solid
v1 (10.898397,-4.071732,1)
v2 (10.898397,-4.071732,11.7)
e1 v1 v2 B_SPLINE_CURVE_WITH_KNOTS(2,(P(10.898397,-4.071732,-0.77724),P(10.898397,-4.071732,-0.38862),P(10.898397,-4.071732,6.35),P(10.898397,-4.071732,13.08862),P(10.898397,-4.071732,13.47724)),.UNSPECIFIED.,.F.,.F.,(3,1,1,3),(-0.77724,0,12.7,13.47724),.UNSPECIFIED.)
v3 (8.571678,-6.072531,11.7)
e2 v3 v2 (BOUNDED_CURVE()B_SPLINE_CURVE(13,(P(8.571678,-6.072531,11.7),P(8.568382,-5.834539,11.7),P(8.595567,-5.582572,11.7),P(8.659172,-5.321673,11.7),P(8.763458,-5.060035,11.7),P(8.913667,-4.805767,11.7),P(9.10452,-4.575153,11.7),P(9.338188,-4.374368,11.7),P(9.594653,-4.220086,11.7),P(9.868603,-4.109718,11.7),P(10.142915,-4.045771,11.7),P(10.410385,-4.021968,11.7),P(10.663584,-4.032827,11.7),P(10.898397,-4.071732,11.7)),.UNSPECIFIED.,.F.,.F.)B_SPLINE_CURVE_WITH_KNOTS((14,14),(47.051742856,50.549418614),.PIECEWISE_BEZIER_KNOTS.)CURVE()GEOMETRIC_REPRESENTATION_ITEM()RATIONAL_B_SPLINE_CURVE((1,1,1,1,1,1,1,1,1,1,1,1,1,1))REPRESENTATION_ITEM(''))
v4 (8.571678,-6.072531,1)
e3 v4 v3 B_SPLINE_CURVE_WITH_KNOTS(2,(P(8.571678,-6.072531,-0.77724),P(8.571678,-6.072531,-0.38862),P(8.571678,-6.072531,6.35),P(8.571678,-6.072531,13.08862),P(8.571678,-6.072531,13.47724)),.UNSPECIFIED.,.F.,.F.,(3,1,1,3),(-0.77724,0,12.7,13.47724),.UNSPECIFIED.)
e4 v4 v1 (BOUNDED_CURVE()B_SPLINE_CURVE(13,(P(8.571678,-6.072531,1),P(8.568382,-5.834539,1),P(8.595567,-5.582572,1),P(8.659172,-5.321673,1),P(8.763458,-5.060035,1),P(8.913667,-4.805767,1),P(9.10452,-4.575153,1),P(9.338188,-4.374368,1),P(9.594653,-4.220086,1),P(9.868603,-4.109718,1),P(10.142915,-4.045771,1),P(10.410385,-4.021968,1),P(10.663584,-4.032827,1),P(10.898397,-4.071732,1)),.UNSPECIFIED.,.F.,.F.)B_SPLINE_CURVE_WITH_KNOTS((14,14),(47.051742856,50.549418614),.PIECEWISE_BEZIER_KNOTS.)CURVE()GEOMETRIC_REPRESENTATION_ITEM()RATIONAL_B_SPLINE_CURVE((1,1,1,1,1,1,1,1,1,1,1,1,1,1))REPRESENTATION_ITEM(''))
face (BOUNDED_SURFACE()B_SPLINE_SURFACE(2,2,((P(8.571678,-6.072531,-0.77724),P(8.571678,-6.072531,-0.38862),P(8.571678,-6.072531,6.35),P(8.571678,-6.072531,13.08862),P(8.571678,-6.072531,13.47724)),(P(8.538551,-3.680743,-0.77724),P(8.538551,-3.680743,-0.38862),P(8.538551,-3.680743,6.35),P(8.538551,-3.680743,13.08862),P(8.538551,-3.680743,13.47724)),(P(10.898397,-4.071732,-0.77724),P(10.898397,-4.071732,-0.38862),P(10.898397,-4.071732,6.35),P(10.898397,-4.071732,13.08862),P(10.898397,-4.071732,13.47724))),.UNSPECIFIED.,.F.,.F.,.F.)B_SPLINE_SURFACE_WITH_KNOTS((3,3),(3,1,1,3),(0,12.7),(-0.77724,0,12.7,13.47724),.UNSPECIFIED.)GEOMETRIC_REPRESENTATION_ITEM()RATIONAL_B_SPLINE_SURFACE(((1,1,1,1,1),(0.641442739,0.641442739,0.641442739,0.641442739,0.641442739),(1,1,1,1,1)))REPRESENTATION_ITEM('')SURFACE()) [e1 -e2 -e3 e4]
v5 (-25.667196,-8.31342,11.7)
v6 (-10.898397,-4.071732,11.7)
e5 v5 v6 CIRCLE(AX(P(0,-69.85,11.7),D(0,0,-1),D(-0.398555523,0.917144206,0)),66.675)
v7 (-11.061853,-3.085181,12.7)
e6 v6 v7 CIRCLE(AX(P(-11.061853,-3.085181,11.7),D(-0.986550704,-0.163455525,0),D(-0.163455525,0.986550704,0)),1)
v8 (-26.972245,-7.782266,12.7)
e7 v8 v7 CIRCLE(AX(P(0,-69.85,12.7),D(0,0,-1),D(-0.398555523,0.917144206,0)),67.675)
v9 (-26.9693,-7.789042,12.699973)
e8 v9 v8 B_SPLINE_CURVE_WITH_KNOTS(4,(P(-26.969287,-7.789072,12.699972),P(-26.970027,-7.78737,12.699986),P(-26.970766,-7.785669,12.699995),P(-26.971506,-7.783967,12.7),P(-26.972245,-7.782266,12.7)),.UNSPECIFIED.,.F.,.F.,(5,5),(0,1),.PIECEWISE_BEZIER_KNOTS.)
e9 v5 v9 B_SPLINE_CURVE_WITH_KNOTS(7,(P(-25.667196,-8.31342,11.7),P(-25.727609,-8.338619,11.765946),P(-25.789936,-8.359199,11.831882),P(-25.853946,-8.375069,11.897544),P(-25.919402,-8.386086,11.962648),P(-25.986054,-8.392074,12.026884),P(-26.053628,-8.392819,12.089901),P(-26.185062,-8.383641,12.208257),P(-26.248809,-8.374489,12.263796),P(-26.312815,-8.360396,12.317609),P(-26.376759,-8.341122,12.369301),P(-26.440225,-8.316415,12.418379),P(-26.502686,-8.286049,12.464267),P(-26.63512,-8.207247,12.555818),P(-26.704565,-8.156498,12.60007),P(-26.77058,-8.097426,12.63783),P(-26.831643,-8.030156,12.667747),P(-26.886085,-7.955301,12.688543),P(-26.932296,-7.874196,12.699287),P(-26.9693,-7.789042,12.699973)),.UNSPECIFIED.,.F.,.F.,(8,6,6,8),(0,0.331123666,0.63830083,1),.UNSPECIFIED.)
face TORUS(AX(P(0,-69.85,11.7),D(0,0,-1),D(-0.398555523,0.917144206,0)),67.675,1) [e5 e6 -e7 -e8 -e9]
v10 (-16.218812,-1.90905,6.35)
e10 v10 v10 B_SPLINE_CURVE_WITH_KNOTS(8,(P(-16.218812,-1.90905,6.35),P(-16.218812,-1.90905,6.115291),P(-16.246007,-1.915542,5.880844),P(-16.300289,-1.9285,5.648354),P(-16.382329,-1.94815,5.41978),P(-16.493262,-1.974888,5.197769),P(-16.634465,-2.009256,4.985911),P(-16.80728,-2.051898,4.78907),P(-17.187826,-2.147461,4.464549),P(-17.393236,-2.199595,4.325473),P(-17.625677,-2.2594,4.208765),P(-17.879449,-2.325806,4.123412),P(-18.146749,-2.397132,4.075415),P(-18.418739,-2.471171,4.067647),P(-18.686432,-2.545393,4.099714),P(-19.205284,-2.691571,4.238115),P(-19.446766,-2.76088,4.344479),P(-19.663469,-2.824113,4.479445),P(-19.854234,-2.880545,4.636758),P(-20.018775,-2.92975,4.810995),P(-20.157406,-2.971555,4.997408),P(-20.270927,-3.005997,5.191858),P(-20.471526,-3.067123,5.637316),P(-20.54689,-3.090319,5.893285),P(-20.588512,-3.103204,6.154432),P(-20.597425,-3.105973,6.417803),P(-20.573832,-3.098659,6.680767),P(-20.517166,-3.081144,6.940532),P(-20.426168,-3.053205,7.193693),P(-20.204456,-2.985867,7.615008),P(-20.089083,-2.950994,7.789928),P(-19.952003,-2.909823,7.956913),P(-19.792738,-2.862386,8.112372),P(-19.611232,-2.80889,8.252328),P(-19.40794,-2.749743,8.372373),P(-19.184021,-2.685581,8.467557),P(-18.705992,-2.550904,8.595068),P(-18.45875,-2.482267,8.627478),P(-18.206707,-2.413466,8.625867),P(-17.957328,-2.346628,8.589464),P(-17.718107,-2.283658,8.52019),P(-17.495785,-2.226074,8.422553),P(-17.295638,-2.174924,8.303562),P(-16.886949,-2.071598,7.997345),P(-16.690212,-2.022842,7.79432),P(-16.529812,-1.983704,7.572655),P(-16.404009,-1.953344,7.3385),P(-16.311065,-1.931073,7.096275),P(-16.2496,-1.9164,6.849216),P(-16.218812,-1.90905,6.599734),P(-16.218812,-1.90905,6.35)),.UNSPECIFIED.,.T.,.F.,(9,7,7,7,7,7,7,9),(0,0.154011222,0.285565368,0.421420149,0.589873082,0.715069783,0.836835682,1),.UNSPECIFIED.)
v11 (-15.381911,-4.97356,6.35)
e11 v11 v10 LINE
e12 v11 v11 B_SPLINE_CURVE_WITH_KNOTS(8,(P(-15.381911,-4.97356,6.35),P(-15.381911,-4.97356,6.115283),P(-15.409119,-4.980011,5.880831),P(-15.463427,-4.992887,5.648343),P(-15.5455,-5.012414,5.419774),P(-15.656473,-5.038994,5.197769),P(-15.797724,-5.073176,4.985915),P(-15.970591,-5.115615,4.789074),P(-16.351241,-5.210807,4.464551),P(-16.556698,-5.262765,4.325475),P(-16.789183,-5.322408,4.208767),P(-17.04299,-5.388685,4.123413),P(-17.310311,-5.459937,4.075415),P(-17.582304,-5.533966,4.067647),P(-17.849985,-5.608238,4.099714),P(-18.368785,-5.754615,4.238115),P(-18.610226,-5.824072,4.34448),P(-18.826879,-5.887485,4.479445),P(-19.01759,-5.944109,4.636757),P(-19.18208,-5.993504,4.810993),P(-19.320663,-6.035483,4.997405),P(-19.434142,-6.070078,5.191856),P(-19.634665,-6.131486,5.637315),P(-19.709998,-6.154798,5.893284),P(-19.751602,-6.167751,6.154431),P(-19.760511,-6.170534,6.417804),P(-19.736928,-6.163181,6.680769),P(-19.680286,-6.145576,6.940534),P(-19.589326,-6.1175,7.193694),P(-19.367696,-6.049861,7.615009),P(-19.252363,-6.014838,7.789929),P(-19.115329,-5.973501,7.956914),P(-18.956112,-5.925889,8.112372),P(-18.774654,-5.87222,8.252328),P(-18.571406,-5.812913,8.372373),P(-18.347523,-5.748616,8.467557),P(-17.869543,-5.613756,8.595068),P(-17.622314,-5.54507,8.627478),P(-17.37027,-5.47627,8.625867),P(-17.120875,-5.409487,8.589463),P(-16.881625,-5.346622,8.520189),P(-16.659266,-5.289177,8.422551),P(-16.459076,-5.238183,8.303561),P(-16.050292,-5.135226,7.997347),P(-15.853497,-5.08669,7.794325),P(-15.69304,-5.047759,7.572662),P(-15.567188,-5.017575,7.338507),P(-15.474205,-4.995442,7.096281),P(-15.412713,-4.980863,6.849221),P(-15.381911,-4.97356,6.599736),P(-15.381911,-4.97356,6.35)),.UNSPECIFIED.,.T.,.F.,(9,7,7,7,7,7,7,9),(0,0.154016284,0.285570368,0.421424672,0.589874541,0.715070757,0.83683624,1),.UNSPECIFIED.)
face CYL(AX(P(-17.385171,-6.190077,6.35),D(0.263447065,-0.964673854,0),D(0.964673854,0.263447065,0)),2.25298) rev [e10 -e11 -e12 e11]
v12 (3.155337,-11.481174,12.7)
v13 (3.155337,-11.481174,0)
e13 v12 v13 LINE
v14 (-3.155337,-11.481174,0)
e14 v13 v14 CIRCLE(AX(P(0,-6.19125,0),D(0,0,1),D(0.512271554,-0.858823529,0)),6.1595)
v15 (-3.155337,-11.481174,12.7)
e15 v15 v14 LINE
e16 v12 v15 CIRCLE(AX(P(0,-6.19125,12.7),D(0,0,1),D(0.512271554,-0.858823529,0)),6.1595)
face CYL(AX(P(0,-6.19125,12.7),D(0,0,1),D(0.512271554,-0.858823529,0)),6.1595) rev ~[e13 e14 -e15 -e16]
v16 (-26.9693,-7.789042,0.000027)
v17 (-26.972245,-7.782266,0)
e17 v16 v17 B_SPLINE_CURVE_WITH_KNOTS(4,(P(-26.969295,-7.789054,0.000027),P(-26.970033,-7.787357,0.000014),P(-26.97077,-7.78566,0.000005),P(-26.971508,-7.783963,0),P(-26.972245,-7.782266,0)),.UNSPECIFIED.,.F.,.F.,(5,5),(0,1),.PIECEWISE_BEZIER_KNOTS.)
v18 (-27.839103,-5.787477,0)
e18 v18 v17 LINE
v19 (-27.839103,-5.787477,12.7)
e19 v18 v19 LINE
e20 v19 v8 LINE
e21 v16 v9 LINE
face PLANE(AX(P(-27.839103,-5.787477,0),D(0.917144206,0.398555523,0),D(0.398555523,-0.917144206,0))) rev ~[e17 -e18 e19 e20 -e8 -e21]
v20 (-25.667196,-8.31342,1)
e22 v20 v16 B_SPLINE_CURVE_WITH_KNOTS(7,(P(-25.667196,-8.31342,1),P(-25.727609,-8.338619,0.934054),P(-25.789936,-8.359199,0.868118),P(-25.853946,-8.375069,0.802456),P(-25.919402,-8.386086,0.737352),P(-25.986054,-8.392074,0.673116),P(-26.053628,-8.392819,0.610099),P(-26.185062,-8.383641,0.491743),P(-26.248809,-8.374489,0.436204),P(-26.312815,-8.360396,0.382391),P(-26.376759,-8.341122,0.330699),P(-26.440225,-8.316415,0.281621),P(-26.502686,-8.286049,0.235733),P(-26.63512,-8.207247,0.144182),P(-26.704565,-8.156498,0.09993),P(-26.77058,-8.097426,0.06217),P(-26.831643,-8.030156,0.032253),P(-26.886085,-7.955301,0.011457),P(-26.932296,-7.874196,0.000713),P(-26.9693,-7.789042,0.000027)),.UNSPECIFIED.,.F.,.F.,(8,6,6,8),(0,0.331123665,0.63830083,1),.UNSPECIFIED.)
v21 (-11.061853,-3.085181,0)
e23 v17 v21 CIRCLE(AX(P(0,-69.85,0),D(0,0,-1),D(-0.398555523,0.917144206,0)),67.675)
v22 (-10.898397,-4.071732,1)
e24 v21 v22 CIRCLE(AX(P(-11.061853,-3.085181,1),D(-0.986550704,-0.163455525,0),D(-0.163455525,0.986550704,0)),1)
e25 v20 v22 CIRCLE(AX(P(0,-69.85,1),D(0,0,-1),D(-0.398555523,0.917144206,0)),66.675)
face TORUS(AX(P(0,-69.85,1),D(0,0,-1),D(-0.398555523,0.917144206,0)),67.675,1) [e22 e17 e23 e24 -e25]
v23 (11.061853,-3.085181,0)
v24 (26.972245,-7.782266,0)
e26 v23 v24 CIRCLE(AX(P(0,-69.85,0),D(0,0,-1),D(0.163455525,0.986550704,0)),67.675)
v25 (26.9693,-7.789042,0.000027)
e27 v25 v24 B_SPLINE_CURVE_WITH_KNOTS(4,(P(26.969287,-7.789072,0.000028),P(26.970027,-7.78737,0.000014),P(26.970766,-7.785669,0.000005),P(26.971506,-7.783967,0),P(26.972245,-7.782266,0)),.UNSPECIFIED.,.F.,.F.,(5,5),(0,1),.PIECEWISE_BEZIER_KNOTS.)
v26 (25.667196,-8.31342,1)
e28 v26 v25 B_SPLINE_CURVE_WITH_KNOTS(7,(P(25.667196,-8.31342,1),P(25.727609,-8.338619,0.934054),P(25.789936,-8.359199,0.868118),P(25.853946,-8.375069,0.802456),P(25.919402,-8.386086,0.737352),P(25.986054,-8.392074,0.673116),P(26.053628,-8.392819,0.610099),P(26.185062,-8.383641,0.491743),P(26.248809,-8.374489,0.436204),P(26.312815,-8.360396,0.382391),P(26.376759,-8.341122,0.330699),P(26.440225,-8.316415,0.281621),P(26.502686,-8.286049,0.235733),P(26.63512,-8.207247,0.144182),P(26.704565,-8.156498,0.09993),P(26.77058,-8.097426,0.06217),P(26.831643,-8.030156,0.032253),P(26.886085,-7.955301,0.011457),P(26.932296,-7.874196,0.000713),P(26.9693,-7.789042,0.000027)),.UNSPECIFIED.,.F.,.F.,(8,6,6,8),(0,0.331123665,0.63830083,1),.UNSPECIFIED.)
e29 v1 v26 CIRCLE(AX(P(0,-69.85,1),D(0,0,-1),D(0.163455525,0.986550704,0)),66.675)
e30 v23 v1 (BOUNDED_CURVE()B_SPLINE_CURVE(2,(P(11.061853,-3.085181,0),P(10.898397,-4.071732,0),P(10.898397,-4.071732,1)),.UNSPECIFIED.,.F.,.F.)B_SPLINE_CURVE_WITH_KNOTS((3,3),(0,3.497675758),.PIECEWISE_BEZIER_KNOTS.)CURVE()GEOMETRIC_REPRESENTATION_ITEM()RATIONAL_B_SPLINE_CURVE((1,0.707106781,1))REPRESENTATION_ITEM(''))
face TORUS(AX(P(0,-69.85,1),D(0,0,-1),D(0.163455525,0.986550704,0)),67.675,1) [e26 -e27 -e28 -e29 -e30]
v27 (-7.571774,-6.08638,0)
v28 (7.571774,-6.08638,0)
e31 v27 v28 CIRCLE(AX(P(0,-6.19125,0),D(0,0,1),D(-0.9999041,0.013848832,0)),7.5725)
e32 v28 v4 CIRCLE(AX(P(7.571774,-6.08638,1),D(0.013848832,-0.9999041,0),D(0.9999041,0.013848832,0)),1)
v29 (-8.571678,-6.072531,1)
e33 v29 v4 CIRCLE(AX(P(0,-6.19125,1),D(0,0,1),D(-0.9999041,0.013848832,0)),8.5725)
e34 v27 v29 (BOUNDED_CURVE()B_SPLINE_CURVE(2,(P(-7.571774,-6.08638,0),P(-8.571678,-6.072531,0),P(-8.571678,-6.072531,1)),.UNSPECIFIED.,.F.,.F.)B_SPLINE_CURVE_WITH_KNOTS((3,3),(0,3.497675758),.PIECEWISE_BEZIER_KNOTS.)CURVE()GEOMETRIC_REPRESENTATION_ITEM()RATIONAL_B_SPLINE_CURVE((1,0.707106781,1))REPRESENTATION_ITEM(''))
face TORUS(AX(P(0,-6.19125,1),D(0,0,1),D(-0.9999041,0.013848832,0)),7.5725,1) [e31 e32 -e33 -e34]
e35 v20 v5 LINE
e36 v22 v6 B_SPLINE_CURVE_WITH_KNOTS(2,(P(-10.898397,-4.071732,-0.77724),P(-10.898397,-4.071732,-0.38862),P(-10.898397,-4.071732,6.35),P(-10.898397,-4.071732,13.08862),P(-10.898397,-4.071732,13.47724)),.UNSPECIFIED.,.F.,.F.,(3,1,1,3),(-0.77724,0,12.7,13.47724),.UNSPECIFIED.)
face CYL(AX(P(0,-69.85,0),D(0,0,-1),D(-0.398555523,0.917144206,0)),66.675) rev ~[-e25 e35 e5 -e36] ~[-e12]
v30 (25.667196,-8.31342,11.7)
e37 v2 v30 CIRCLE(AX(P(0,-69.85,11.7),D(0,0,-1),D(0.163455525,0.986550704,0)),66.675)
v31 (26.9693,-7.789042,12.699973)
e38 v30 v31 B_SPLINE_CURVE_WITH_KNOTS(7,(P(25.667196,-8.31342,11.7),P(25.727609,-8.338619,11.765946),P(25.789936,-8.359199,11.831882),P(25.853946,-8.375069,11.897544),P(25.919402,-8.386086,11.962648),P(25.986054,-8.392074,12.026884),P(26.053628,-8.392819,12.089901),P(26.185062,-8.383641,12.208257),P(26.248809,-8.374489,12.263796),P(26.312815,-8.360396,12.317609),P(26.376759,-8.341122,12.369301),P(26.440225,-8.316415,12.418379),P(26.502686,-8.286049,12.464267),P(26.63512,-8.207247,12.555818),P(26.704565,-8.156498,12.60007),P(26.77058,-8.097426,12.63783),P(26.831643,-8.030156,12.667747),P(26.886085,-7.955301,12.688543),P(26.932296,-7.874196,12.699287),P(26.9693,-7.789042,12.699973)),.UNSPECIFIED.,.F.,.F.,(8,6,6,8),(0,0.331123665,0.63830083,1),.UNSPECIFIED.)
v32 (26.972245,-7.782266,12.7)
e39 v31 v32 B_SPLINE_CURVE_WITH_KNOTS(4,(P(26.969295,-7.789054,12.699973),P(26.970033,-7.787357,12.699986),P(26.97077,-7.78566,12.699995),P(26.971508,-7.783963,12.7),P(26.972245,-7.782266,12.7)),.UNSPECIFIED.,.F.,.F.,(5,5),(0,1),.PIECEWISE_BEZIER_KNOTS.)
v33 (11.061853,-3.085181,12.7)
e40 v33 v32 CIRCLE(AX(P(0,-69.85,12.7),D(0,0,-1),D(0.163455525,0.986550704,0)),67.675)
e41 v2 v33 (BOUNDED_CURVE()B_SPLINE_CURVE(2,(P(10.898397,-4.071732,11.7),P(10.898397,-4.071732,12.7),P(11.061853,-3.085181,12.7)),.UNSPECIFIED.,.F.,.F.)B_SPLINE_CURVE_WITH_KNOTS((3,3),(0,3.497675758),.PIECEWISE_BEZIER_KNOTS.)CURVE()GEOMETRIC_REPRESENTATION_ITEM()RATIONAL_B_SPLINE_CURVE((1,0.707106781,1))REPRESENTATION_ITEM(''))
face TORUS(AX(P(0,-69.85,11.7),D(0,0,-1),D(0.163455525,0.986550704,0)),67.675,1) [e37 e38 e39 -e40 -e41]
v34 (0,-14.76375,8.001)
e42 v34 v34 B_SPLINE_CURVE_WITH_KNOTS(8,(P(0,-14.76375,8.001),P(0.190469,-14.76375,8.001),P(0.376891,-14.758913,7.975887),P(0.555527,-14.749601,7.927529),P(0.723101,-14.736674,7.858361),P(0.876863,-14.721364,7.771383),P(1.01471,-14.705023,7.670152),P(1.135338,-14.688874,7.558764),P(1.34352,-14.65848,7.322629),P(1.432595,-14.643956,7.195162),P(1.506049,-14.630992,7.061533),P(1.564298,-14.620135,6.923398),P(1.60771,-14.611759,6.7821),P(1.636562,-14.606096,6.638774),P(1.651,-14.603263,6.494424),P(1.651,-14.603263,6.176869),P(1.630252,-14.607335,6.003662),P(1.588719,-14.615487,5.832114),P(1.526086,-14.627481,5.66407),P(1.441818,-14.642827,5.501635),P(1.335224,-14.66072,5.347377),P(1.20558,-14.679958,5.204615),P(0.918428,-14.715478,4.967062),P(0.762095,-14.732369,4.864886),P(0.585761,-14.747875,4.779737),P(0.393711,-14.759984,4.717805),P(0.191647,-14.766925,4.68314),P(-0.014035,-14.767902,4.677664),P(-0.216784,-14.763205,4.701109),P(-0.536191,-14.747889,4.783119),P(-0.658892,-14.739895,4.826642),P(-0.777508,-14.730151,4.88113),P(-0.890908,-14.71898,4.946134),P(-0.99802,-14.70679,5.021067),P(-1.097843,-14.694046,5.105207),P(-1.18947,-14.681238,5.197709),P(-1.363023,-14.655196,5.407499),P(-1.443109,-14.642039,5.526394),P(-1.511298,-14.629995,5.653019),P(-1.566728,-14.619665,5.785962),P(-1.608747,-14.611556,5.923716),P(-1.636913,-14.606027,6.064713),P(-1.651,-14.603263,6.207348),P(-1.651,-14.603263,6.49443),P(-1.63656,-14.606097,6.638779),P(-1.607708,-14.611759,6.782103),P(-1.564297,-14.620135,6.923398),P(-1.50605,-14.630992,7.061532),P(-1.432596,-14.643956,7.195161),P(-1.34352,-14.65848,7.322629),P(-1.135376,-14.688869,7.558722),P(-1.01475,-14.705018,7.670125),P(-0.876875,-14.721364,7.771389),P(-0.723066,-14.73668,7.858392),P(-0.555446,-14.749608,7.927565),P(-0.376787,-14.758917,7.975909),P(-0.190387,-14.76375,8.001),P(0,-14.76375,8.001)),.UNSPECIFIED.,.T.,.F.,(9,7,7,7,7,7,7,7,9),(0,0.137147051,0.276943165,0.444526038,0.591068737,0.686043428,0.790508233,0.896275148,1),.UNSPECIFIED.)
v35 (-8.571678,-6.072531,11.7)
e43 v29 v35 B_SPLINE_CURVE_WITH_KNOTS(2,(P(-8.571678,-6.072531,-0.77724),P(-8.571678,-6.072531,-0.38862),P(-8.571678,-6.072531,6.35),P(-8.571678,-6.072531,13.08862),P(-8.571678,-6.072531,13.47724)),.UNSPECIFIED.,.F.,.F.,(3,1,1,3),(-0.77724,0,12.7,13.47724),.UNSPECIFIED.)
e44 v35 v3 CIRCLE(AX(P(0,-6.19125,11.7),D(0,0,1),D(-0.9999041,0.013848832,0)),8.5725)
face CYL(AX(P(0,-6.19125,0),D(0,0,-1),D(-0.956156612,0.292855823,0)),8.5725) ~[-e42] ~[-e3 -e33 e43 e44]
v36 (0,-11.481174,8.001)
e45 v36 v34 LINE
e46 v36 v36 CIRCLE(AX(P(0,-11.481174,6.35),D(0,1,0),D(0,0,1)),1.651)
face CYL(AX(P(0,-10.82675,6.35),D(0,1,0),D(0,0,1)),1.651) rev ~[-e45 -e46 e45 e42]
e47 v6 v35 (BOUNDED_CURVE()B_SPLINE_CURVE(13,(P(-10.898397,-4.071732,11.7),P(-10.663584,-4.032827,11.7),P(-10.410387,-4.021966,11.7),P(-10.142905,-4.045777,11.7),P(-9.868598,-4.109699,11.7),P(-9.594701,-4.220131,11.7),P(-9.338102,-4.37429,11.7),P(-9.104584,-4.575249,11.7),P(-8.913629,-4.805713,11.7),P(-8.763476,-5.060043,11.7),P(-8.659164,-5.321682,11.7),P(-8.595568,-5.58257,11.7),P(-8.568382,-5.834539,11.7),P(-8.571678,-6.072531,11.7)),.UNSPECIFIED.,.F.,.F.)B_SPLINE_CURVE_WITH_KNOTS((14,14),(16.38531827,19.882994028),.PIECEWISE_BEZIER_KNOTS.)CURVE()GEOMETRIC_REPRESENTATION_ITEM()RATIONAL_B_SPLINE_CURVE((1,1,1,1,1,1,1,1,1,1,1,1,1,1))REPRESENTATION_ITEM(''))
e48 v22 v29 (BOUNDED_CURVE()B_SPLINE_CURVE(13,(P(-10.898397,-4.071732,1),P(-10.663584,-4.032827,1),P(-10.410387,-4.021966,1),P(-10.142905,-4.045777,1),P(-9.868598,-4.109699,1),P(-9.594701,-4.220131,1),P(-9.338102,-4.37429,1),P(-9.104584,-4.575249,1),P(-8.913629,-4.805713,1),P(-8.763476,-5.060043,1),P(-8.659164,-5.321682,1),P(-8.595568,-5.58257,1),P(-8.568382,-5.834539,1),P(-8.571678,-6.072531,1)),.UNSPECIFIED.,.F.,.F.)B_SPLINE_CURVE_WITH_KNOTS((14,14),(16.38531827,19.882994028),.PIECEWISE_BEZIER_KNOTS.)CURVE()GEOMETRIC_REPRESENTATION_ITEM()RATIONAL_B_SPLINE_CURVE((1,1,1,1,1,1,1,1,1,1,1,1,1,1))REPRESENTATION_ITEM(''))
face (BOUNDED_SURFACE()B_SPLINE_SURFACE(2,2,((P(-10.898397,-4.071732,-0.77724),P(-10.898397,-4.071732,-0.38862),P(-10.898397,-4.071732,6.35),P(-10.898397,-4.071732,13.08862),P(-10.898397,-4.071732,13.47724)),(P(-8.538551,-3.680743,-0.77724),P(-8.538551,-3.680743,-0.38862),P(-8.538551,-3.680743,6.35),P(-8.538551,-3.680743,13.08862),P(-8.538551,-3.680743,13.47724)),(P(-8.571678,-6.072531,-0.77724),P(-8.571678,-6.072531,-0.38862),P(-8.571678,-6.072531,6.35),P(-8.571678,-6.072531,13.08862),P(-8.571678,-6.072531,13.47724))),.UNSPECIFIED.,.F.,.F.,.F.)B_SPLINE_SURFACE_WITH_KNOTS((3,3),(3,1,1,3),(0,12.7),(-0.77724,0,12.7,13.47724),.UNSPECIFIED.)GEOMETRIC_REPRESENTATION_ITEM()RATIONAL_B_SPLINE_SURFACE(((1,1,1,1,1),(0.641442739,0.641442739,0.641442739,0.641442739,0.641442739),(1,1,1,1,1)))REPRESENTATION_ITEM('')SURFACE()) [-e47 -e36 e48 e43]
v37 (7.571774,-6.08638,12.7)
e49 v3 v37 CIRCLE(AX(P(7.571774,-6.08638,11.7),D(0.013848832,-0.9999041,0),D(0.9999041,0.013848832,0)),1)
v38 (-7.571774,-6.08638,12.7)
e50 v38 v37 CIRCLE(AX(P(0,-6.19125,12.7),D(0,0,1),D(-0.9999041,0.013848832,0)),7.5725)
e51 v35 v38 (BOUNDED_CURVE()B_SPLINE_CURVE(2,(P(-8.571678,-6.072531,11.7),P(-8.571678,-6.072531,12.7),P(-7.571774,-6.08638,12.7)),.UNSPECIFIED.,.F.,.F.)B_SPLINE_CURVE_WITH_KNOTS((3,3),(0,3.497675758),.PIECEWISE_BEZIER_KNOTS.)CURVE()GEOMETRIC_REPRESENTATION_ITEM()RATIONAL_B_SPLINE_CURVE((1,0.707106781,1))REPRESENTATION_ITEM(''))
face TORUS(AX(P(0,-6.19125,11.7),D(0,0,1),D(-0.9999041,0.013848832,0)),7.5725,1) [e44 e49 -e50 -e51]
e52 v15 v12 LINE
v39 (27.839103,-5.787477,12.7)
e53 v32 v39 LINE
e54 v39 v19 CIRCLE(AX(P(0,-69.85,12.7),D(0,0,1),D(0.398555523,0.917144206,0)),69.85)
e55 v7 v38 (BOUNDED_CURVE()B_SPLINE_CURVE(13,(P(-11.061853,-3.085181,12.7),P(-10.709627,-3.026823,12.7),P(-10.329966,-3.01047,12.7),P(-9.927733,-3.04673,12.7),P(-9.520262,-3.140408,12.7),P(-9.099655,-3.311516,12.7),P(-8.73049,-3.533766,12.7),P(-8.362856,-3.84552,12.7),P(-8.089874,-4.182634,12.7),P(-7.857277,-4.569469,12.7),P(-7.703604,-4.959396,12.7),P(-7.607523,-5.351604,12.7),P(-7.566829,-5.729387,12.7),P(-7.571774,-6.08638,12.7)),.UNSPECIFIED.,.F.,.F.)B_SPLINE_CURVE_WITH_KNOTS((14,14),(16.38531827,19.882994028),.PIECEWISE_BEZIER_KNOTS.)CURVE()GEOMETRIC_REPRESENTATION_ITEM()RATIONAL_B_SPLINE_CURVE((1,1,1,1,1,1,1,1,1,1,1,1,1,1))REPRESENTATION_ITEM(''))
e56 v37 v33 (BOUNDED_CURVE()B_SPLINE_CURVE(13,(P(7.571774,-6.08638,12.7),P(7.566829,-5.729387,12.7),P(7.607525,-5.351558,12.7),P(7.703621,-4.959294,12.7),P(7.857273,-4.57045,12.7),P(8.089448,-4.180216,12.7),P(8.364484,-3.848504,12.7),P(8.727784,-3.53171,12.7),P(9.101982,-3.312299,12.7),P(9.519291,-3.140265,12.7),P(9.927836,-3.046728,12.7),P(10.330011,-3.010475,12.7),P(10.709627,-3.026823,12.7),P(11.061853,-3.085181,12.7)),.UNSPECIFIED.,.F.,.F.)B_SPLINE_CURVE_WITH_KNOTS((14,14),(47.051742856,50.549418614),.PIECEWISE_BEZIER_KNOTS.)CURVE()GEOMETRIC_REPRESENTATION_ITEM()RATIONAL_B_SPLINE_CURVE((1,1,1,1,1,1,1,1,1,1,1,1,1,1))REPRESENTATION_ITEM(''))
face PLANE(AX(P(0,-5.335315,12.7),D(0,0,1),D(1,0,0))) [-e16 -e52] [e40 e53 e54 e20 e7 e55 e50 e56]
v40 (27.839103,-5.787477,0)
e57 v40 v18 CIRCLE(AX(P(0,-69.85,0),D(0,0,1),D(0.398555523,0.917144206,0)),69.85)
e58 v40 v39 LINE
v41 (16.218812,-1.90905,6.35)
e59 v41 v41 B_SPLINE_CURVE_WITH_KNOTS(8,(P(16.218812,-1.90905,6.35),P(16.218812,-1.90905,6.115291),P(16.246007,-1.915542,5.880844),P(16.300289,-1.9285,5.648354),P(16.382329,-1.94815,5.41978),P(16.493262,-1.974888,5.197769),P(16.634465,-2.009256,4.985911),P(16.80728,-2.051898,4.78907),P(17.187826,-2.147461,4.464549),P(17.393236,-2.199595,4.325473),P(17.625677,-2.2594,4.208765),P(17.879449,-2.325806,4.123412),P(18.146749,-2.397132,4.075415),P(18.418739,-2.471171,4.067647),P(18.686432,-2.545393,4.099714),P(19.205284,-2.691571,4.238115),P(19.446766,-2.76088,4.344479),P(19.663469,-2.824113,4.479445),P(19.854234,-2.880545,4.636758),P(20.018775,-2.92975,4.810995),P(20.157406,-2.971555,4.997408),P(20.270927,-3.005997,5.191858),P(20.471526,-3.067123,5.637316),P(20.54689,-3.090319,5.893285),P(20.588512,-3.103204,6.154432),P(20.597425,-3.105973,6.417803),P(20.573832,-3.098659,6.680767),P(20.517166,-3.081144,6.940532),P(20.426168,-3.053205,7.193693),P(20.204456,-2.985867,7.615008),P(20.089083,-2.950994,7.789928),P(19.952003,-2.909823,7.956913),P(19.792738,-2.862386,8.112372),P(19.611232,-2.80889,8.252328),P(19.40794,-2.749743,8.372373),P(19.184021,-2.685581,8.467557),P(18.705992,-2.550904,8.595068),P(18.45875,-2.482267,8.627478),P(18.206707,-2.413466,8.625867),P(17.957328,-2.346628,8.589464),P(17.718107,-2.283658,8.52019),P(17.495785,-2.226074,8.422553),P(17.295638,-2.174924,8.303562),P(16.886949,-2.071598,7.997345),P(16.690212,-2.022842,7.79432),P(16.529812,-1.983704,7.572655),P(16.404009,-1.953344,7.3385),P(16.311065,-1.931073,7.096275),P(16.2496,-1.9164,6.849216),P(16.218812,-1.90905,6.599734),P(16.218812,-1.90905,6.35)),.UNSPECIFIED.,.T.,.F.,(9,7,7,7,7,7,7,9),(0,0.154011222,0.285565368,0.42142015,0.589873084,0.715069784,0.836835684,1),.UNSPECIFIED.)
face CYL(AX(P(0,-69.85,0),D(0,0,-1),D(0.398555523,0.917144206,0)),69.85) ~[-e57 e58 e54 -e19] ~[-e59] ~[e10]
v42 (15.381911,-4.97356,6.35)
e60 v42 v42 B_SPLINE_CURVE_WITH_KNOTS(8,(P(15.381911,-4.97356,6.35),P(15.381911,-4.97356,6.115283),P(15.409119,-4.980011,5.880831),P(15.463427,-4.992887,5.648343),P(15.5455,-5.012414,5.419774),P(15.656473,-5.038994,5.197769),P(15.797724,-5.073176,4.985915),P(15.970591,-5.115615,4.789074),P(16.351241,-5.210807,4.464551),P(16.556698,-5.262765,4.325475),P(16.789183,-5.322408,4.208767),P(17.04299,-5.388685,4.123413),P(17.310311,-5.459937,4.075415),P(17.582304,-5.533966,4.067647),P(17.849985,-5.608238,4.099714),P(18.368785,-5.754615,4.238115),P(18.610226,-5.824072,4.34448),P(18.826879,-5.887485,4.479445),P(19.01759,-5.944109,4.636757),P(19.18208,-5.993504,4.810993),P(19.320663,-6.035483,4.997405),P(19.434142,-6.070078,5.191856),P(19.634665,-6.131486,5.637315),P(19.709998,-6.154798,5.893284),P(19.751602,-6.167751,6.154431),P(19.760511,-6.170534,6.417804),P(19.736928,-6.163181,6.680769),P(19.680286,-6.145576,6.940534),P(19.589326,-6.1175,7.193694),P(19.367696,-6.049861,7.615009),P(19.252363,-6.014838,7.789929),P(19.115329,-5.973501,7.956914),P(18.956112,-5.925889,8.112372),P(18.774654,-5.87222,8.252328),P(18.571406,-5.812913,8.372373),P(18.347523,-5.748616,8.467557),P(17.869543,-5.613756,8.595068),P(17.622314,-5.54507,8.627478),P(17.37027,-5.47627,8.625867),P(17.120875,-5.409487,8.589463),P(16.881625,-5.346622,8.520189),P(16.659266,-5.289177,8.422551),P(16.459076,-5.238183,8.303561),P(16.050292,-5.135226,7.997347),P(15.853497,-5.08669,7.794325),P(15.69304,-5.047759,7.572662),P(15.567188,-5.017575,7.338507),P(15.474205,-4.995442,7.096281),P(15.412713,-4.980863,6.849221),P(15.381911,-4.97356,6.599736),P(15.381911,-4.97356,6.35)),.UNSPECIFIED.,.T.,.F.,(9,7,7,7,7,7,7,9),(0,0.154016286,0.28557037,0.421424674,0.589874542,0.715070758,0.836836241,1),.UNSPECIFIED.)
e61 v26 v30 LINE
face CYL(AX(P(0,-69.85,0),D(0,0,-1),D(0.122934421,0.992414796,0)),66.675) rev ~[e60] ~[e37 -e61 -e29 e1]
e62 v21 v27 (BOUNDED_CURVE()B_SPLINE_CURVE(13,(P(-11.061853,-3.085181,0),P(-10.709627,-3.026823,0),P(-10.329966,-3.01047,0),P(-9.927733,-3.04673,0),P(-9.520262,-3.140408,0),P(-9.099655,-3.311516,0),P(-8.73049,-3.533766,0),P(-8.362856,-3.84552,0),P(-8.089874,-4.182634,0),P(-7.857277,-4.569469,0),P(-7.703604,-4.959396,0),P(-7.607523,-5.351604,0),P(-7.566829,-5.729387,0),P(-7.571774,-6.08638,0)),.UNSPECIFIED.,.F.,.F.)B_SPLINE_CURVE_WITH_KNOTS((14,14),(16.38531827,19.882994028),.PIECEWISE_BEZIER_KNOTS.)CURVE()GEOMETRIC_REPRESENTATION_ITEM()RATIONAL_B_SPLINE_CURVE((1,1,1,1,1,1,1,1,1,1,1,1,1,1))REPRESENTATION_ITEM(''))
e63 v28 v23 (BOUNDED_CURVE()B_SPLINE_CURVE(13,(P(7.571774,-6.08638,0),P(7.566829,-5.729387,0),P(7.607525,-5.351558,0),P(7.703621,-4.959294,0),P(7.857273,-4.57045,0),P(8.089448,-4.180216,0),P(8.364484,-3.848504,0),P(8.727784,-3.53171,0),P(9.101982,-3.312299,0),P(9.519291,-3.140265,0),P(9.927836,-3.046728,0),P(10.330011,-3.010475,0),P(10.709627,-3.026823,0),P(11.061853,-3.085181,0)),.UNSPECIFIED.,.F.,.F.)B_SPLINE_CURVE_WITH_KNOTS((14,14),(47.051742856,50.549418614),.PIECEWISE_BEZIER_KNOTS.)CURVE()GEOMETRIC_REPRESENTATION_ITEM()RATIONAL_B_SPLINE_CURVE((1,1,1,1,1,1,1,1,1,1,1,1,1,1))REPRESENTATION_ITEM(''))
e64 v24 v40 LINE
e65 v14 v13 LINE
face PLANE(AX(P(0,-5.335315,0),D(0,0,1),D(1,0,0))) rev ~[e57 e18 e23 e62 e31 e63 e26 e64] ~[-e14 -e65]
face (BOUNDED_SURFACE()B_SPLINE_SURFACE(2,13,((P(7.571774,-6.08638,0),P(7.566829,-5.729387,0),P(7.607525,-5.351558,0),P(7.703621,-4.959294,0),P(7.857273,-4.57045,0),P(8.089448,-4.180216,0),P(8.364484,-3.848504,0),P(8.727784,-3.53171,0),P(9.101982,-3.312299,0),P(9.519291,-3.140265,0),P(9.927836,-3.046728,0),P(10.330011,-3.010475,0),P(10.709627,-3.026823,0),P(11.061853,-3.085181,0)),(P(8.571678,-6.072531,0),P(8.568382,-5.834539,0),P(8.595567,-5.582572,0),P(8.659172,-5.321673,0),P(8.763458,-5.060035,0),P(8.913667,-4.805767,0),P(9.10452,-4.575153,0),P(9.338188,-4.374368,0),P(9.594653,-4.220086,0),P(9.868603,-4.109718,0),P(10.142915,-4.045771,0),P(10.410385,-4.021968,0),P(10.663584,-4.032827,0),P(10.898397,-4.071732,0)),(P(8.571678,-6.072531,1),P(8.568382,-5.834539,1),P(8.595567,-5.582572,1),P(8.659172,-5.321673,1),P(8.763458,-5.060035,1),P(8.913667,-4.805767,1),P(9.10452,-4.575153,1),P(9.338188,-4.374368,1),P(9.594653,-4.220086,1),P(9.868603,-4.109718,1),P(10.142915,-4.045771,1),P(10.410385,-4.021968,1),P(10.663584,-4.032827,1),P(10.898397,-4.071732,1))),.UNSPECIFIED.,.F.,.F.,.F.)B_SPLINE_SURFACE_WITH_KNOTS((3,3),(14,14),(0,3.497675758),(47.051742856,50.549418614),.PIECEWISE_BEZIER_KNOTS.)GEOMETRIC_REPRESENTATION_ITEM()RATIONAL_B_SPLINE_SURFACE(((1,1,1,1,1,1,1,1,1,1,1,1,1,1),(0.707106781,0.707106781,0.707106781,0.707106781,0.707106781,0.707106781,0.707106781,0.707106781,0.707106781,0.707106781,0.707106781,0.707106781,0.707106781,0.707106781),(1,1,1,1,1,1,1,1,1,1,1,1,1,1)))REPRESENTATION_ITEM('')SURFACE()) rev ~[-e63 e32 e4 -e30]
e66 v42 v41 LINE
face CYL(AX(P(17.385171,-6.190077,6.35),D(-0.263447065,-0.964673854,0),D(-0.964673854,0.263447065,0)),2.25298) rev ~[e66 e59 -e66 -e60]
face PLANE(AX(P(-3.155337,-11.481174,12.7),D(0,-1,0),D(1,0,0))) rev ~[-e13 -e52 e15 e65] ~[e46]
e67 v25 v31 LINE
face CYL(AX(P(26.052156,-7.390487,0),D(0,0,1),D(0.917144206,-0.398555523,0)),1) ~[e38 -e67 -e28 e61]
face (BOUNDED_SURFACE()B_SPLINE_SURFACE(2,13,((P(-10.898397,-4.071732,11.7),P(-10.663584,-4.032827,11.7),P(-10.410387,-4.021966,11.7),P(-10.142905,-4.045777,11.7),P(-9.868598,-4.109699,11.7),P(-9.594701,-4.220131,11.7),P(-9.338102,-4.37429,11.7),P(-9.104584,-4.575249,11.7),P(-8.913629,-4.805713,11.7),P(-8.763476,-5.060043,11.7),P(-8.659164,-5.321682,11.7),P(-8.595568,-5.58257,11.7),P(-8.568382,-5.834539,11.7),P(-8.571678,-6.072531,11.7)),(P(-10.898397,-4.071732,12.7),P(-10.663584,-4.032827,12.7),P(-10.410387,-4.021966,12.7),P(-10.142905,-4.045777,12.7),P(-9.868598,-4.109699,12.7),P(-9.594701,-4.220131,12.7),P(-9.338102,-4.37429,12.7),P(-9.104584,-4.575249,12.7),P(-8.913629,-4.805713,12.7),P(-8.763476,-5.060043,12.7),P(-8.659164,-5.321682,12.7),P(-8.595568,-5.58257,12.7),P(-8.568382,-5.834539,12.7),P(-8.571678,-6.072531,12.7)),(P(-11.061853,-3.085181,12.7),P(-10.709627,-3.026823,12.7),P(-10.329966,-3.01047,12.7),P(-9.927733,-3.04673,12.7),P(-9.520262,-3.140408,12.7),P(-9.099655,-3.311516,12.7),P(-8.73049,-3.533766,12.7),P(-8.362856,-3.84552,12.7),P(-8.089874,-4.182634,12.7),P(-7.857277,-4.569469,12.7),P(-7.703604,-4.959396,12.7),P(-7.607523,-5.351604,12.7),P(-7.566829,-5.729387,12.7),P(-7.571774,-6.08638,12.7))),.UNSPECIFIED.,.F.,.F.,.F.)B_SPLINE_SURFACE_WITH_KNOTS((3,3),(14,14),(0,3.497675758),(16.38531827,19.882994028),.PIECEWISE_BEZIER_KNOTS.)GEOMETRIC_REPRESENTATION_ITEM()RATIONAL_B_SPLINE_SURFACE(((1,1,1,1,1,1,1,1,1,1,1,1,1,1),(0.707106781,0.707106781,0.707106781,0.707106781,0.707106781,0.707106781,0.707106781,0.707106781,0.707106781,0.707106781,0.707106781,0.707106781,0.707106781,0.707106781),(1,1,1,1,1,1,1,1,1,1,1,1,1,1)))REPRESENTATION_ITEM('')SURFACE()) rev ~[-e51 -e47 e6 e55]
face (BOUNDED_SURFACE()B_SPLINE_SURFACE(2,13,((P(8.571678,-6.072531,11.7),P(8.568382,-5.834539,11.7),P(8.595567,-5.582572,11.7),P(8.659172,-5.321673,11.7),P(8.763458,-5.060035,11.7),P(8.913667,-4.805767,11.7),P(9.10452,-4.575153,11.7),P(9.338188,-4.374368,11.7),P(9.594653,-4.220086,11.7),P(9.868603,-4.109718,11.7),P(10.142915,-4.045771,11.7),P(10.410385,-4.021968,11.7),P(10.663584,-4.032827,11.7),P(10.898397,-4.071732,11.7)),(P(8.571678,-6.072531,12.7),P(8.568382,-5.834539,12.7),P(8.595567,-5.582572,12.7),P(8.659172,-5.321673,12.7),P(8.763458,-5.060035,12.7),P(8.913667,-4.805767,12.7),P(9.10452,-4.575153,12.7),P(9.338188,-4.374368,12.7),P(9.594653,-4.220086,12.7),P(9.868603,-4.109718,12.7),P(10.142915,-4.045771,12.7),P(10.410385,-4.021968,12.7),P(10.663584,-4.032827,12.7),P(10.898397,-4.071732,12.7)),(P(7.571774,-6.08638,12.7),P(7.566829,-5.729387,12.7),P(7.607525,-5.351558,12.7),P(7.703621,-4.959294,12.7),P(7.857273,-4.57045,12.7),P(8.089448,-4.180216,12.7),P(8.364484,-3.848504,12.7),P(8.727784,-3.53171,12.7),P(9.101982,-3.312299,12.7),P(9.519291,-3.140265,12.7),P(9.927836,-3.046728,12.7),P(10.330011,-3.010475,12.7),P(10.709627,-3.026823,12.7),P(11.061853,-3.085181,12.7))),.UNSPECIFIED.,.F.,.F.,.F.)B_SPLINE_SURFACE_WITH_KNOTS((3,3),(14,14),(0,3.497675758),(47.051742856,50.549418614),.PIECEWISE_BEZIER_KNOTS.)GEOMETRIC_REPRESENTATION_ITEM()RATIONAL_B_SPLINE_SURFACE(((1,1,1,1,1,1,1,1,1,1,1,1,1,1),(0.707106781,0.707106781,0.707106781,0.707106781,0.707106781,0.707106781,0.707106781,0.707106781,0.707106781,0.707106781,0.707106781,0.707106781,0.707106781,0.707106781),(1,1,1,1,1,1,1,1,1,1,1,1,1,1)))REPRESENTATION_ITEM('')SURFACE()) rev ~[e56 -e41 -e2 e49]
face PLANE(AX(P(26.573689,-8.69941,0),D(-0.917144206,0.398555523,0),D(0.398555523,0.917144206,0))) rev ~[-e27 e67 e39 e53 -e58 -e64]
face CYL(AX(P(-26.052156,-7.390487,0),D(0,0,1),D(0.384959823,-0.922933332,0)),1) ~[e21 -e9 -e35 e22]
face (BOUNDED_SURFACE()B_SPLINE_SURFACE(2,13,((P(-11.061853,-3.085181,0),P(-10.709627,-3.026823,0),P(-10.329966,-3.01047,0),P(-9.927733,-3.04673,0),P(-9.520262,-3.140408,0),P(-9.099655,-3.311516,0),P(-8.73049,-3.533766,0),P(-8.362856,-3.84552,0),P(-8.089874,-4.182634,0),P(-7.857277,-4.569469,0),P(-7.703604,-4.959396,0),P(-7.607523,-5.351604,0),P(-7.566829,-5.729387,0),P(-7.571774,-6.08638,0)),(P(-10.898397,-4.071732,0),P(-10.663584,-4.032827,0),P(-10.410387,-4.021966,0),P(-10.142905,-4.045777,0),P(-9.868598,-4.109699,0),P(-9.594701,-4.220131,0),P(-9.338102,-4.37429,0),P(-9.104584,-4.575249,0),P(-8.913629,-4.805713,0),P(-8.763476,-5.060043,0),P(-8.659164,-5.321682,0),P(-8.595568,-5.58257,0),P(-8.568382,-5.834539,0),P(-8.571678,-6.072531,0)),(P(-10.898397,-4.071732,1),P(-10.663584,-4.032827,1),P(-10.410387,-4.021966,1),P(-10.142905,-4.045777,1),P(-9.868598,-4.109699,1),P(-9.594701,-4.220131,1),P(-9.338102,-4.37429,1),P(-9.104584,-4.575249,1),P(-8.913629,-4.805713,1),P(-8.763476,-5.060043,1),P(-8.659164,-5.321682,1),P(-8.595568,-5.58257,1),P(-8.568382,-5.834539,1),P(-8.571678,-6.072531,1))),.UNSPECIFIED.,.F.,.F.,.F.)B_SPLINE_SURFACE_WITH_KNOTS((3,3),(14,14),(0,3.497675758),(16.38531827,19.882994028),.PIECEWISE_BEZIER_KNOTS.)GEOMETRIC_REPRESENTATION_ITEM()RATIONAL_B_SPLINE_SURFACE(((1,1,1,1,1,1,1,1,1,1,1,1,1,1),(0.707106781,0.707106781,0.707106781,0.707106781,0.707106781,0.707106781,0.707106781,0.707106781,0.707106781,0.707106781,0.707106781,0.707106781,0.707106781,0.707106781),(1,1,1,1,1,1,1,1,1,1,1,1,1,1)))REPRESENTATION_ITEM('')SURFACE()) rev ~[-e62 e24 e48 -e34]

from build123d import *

# Parameters (mm, degrees)
BOSS_EXTRUDE1_DEPTH = 12.7
SKETCH2_R           = 1.651
CUT_EXTRUDE1_DEPTH  = 33.458037303
SKETCH4_R           = 2.25298
CUT_EXTRUDE3_DEPTH  = 34.719236888
FILLET1_R           = 2
FILLET2_R           = 1
CUT_EXTRUDE4_DEPTH  = 34.974608094


with BuildPart() as part:
    # Sketch1 → Boss-Extrude1 (new body)
    with BuildSketch(Plane.XY):
        with BuildLine():
            Line((-27.839103255, -5.787477181), (-26.57368947, -8.699410036))
            ThreePointArc((-26.57368947, -8.699410036), (-17.565333038, -5.530370801), (-8.196652556, -3.680743454))
            ThreePointArc((-8.196652556, -3.680743454), (0, -14.76375), (8.196652556, -3.680743454))
            ThreePointArc((8.196652556, -3.680743454), (17.565333038, -5.530370801), (26.57368947, -8.699410036))
            Line((26.57368947, -8.699410036), (27.839103255, -5.787477181))
            ThreePointArc((27.839103255, -5.787477181), (0, 0), (-27.839103255, -5.787477181))
        make_face()
        with BuildLine():
            Line((-2.764985714, -10.82675), (2.764985714, -10.82675))
            ThreePointArc((2.764985714, -10.82675), (0, -0.79375), (-2.764985714, -10.82675))
        make_face(mode=Mode.SUBTRACT)
    extrude(amount=BOSS_EXTRUDE1_DEPTH)

    # Sketch2 → Cut-Extrude1 (cut, through all)
    with BuildSketch(Plane(origin=(0, -10.82675, 0), x_dir=(1, 0, 0), z_dir=(0, 1, 0))):
        with Locations(Location((0, -6.35, 0), (0, 0, 270))):
            Circle(SKETCH2_R)
    extrude(amount=-CUT_EXTRUDE1_DEPTH, mode=Mode.SUBTRACT)

    # Sketch4 → Cut-Extrude3 (cut, through all)
    with BuildSketch(Plane(origin=(0.366542573, -1.342182486, 0), x_dir=(0.9646738537497861, 0.2634470646857473, 0), z_dir=(-0.2634470646857473, 0.9646738537497861, 0))):
        with Locations((-18.401777468, -6.35)):
            Circle(SKETCH4_R)
    cut_extrude3 = extrude(amount=CUT_EXTRUDE3_DEPTH, mode=Mode.SUBTRACT)

    # Mirror1: Cut-Extrude3 across plane
    add(cut_extrude3.mirror(Plane(origin=(0, 0, 0), x_dir=(0, 0, 1), z_dir=(1, 0, 0))), mode=Mode.SUBTRACT)

    # Fillet1
    fillet1_edges = [part.edges().sort_by_distance(p)[0] for p in [
        (8.196652556, -3.680743454, 6.35),
        (-8.196652556, -3.680743454, 6.35),
    ]]
    fillet(fillet1_edges, radius=FILLET1_R)

    # Fillet2
    fillet2_edges = [part.edges().sort_by_distance(p)[0] for p in [
        (26.57368947, -8.699410036, 6.35),
        (-26.57368947, -8.699410036, 6.35),
        (-18.878378383, -5.903440635, 12.7),
        (0, -14.76375, 0),
        (0, -14.76375, 12.7),
        (18.878378383, -5.903440635, 0),
        (18.878378383, -5.903440635, 12.7),
        (-9.267474809, -4.528405008, 0),
        (-9.267474809, -4.528405008, 12.7),
        (9.267474809, -4.528405008, 0),
        (9.267474809, -4.528405008, 12.7),
        (-18.878378383, -5.903440635, 0),
    ]]
    fillet(fillet2_edges, radius=FILLET2_R)

    # Sketch5 → Cut-Extrude4 (cut, through all)
    with BuildSketch(Plane.XY.offset(12.7)):
        with BuildLine():
            Line((-3.155336639, -11.481173529), (3.155336639, -11.481173529))
            ThreePointArc((3.155336639, -11.481173529), (0, -0.03175), (-3.155336639, -11.481173529))
        make_face()
    extrude(amount=-CUT_EXTRUDE4_DEPTH, mode=Mode.SUBTRACT)


solid = part.part
